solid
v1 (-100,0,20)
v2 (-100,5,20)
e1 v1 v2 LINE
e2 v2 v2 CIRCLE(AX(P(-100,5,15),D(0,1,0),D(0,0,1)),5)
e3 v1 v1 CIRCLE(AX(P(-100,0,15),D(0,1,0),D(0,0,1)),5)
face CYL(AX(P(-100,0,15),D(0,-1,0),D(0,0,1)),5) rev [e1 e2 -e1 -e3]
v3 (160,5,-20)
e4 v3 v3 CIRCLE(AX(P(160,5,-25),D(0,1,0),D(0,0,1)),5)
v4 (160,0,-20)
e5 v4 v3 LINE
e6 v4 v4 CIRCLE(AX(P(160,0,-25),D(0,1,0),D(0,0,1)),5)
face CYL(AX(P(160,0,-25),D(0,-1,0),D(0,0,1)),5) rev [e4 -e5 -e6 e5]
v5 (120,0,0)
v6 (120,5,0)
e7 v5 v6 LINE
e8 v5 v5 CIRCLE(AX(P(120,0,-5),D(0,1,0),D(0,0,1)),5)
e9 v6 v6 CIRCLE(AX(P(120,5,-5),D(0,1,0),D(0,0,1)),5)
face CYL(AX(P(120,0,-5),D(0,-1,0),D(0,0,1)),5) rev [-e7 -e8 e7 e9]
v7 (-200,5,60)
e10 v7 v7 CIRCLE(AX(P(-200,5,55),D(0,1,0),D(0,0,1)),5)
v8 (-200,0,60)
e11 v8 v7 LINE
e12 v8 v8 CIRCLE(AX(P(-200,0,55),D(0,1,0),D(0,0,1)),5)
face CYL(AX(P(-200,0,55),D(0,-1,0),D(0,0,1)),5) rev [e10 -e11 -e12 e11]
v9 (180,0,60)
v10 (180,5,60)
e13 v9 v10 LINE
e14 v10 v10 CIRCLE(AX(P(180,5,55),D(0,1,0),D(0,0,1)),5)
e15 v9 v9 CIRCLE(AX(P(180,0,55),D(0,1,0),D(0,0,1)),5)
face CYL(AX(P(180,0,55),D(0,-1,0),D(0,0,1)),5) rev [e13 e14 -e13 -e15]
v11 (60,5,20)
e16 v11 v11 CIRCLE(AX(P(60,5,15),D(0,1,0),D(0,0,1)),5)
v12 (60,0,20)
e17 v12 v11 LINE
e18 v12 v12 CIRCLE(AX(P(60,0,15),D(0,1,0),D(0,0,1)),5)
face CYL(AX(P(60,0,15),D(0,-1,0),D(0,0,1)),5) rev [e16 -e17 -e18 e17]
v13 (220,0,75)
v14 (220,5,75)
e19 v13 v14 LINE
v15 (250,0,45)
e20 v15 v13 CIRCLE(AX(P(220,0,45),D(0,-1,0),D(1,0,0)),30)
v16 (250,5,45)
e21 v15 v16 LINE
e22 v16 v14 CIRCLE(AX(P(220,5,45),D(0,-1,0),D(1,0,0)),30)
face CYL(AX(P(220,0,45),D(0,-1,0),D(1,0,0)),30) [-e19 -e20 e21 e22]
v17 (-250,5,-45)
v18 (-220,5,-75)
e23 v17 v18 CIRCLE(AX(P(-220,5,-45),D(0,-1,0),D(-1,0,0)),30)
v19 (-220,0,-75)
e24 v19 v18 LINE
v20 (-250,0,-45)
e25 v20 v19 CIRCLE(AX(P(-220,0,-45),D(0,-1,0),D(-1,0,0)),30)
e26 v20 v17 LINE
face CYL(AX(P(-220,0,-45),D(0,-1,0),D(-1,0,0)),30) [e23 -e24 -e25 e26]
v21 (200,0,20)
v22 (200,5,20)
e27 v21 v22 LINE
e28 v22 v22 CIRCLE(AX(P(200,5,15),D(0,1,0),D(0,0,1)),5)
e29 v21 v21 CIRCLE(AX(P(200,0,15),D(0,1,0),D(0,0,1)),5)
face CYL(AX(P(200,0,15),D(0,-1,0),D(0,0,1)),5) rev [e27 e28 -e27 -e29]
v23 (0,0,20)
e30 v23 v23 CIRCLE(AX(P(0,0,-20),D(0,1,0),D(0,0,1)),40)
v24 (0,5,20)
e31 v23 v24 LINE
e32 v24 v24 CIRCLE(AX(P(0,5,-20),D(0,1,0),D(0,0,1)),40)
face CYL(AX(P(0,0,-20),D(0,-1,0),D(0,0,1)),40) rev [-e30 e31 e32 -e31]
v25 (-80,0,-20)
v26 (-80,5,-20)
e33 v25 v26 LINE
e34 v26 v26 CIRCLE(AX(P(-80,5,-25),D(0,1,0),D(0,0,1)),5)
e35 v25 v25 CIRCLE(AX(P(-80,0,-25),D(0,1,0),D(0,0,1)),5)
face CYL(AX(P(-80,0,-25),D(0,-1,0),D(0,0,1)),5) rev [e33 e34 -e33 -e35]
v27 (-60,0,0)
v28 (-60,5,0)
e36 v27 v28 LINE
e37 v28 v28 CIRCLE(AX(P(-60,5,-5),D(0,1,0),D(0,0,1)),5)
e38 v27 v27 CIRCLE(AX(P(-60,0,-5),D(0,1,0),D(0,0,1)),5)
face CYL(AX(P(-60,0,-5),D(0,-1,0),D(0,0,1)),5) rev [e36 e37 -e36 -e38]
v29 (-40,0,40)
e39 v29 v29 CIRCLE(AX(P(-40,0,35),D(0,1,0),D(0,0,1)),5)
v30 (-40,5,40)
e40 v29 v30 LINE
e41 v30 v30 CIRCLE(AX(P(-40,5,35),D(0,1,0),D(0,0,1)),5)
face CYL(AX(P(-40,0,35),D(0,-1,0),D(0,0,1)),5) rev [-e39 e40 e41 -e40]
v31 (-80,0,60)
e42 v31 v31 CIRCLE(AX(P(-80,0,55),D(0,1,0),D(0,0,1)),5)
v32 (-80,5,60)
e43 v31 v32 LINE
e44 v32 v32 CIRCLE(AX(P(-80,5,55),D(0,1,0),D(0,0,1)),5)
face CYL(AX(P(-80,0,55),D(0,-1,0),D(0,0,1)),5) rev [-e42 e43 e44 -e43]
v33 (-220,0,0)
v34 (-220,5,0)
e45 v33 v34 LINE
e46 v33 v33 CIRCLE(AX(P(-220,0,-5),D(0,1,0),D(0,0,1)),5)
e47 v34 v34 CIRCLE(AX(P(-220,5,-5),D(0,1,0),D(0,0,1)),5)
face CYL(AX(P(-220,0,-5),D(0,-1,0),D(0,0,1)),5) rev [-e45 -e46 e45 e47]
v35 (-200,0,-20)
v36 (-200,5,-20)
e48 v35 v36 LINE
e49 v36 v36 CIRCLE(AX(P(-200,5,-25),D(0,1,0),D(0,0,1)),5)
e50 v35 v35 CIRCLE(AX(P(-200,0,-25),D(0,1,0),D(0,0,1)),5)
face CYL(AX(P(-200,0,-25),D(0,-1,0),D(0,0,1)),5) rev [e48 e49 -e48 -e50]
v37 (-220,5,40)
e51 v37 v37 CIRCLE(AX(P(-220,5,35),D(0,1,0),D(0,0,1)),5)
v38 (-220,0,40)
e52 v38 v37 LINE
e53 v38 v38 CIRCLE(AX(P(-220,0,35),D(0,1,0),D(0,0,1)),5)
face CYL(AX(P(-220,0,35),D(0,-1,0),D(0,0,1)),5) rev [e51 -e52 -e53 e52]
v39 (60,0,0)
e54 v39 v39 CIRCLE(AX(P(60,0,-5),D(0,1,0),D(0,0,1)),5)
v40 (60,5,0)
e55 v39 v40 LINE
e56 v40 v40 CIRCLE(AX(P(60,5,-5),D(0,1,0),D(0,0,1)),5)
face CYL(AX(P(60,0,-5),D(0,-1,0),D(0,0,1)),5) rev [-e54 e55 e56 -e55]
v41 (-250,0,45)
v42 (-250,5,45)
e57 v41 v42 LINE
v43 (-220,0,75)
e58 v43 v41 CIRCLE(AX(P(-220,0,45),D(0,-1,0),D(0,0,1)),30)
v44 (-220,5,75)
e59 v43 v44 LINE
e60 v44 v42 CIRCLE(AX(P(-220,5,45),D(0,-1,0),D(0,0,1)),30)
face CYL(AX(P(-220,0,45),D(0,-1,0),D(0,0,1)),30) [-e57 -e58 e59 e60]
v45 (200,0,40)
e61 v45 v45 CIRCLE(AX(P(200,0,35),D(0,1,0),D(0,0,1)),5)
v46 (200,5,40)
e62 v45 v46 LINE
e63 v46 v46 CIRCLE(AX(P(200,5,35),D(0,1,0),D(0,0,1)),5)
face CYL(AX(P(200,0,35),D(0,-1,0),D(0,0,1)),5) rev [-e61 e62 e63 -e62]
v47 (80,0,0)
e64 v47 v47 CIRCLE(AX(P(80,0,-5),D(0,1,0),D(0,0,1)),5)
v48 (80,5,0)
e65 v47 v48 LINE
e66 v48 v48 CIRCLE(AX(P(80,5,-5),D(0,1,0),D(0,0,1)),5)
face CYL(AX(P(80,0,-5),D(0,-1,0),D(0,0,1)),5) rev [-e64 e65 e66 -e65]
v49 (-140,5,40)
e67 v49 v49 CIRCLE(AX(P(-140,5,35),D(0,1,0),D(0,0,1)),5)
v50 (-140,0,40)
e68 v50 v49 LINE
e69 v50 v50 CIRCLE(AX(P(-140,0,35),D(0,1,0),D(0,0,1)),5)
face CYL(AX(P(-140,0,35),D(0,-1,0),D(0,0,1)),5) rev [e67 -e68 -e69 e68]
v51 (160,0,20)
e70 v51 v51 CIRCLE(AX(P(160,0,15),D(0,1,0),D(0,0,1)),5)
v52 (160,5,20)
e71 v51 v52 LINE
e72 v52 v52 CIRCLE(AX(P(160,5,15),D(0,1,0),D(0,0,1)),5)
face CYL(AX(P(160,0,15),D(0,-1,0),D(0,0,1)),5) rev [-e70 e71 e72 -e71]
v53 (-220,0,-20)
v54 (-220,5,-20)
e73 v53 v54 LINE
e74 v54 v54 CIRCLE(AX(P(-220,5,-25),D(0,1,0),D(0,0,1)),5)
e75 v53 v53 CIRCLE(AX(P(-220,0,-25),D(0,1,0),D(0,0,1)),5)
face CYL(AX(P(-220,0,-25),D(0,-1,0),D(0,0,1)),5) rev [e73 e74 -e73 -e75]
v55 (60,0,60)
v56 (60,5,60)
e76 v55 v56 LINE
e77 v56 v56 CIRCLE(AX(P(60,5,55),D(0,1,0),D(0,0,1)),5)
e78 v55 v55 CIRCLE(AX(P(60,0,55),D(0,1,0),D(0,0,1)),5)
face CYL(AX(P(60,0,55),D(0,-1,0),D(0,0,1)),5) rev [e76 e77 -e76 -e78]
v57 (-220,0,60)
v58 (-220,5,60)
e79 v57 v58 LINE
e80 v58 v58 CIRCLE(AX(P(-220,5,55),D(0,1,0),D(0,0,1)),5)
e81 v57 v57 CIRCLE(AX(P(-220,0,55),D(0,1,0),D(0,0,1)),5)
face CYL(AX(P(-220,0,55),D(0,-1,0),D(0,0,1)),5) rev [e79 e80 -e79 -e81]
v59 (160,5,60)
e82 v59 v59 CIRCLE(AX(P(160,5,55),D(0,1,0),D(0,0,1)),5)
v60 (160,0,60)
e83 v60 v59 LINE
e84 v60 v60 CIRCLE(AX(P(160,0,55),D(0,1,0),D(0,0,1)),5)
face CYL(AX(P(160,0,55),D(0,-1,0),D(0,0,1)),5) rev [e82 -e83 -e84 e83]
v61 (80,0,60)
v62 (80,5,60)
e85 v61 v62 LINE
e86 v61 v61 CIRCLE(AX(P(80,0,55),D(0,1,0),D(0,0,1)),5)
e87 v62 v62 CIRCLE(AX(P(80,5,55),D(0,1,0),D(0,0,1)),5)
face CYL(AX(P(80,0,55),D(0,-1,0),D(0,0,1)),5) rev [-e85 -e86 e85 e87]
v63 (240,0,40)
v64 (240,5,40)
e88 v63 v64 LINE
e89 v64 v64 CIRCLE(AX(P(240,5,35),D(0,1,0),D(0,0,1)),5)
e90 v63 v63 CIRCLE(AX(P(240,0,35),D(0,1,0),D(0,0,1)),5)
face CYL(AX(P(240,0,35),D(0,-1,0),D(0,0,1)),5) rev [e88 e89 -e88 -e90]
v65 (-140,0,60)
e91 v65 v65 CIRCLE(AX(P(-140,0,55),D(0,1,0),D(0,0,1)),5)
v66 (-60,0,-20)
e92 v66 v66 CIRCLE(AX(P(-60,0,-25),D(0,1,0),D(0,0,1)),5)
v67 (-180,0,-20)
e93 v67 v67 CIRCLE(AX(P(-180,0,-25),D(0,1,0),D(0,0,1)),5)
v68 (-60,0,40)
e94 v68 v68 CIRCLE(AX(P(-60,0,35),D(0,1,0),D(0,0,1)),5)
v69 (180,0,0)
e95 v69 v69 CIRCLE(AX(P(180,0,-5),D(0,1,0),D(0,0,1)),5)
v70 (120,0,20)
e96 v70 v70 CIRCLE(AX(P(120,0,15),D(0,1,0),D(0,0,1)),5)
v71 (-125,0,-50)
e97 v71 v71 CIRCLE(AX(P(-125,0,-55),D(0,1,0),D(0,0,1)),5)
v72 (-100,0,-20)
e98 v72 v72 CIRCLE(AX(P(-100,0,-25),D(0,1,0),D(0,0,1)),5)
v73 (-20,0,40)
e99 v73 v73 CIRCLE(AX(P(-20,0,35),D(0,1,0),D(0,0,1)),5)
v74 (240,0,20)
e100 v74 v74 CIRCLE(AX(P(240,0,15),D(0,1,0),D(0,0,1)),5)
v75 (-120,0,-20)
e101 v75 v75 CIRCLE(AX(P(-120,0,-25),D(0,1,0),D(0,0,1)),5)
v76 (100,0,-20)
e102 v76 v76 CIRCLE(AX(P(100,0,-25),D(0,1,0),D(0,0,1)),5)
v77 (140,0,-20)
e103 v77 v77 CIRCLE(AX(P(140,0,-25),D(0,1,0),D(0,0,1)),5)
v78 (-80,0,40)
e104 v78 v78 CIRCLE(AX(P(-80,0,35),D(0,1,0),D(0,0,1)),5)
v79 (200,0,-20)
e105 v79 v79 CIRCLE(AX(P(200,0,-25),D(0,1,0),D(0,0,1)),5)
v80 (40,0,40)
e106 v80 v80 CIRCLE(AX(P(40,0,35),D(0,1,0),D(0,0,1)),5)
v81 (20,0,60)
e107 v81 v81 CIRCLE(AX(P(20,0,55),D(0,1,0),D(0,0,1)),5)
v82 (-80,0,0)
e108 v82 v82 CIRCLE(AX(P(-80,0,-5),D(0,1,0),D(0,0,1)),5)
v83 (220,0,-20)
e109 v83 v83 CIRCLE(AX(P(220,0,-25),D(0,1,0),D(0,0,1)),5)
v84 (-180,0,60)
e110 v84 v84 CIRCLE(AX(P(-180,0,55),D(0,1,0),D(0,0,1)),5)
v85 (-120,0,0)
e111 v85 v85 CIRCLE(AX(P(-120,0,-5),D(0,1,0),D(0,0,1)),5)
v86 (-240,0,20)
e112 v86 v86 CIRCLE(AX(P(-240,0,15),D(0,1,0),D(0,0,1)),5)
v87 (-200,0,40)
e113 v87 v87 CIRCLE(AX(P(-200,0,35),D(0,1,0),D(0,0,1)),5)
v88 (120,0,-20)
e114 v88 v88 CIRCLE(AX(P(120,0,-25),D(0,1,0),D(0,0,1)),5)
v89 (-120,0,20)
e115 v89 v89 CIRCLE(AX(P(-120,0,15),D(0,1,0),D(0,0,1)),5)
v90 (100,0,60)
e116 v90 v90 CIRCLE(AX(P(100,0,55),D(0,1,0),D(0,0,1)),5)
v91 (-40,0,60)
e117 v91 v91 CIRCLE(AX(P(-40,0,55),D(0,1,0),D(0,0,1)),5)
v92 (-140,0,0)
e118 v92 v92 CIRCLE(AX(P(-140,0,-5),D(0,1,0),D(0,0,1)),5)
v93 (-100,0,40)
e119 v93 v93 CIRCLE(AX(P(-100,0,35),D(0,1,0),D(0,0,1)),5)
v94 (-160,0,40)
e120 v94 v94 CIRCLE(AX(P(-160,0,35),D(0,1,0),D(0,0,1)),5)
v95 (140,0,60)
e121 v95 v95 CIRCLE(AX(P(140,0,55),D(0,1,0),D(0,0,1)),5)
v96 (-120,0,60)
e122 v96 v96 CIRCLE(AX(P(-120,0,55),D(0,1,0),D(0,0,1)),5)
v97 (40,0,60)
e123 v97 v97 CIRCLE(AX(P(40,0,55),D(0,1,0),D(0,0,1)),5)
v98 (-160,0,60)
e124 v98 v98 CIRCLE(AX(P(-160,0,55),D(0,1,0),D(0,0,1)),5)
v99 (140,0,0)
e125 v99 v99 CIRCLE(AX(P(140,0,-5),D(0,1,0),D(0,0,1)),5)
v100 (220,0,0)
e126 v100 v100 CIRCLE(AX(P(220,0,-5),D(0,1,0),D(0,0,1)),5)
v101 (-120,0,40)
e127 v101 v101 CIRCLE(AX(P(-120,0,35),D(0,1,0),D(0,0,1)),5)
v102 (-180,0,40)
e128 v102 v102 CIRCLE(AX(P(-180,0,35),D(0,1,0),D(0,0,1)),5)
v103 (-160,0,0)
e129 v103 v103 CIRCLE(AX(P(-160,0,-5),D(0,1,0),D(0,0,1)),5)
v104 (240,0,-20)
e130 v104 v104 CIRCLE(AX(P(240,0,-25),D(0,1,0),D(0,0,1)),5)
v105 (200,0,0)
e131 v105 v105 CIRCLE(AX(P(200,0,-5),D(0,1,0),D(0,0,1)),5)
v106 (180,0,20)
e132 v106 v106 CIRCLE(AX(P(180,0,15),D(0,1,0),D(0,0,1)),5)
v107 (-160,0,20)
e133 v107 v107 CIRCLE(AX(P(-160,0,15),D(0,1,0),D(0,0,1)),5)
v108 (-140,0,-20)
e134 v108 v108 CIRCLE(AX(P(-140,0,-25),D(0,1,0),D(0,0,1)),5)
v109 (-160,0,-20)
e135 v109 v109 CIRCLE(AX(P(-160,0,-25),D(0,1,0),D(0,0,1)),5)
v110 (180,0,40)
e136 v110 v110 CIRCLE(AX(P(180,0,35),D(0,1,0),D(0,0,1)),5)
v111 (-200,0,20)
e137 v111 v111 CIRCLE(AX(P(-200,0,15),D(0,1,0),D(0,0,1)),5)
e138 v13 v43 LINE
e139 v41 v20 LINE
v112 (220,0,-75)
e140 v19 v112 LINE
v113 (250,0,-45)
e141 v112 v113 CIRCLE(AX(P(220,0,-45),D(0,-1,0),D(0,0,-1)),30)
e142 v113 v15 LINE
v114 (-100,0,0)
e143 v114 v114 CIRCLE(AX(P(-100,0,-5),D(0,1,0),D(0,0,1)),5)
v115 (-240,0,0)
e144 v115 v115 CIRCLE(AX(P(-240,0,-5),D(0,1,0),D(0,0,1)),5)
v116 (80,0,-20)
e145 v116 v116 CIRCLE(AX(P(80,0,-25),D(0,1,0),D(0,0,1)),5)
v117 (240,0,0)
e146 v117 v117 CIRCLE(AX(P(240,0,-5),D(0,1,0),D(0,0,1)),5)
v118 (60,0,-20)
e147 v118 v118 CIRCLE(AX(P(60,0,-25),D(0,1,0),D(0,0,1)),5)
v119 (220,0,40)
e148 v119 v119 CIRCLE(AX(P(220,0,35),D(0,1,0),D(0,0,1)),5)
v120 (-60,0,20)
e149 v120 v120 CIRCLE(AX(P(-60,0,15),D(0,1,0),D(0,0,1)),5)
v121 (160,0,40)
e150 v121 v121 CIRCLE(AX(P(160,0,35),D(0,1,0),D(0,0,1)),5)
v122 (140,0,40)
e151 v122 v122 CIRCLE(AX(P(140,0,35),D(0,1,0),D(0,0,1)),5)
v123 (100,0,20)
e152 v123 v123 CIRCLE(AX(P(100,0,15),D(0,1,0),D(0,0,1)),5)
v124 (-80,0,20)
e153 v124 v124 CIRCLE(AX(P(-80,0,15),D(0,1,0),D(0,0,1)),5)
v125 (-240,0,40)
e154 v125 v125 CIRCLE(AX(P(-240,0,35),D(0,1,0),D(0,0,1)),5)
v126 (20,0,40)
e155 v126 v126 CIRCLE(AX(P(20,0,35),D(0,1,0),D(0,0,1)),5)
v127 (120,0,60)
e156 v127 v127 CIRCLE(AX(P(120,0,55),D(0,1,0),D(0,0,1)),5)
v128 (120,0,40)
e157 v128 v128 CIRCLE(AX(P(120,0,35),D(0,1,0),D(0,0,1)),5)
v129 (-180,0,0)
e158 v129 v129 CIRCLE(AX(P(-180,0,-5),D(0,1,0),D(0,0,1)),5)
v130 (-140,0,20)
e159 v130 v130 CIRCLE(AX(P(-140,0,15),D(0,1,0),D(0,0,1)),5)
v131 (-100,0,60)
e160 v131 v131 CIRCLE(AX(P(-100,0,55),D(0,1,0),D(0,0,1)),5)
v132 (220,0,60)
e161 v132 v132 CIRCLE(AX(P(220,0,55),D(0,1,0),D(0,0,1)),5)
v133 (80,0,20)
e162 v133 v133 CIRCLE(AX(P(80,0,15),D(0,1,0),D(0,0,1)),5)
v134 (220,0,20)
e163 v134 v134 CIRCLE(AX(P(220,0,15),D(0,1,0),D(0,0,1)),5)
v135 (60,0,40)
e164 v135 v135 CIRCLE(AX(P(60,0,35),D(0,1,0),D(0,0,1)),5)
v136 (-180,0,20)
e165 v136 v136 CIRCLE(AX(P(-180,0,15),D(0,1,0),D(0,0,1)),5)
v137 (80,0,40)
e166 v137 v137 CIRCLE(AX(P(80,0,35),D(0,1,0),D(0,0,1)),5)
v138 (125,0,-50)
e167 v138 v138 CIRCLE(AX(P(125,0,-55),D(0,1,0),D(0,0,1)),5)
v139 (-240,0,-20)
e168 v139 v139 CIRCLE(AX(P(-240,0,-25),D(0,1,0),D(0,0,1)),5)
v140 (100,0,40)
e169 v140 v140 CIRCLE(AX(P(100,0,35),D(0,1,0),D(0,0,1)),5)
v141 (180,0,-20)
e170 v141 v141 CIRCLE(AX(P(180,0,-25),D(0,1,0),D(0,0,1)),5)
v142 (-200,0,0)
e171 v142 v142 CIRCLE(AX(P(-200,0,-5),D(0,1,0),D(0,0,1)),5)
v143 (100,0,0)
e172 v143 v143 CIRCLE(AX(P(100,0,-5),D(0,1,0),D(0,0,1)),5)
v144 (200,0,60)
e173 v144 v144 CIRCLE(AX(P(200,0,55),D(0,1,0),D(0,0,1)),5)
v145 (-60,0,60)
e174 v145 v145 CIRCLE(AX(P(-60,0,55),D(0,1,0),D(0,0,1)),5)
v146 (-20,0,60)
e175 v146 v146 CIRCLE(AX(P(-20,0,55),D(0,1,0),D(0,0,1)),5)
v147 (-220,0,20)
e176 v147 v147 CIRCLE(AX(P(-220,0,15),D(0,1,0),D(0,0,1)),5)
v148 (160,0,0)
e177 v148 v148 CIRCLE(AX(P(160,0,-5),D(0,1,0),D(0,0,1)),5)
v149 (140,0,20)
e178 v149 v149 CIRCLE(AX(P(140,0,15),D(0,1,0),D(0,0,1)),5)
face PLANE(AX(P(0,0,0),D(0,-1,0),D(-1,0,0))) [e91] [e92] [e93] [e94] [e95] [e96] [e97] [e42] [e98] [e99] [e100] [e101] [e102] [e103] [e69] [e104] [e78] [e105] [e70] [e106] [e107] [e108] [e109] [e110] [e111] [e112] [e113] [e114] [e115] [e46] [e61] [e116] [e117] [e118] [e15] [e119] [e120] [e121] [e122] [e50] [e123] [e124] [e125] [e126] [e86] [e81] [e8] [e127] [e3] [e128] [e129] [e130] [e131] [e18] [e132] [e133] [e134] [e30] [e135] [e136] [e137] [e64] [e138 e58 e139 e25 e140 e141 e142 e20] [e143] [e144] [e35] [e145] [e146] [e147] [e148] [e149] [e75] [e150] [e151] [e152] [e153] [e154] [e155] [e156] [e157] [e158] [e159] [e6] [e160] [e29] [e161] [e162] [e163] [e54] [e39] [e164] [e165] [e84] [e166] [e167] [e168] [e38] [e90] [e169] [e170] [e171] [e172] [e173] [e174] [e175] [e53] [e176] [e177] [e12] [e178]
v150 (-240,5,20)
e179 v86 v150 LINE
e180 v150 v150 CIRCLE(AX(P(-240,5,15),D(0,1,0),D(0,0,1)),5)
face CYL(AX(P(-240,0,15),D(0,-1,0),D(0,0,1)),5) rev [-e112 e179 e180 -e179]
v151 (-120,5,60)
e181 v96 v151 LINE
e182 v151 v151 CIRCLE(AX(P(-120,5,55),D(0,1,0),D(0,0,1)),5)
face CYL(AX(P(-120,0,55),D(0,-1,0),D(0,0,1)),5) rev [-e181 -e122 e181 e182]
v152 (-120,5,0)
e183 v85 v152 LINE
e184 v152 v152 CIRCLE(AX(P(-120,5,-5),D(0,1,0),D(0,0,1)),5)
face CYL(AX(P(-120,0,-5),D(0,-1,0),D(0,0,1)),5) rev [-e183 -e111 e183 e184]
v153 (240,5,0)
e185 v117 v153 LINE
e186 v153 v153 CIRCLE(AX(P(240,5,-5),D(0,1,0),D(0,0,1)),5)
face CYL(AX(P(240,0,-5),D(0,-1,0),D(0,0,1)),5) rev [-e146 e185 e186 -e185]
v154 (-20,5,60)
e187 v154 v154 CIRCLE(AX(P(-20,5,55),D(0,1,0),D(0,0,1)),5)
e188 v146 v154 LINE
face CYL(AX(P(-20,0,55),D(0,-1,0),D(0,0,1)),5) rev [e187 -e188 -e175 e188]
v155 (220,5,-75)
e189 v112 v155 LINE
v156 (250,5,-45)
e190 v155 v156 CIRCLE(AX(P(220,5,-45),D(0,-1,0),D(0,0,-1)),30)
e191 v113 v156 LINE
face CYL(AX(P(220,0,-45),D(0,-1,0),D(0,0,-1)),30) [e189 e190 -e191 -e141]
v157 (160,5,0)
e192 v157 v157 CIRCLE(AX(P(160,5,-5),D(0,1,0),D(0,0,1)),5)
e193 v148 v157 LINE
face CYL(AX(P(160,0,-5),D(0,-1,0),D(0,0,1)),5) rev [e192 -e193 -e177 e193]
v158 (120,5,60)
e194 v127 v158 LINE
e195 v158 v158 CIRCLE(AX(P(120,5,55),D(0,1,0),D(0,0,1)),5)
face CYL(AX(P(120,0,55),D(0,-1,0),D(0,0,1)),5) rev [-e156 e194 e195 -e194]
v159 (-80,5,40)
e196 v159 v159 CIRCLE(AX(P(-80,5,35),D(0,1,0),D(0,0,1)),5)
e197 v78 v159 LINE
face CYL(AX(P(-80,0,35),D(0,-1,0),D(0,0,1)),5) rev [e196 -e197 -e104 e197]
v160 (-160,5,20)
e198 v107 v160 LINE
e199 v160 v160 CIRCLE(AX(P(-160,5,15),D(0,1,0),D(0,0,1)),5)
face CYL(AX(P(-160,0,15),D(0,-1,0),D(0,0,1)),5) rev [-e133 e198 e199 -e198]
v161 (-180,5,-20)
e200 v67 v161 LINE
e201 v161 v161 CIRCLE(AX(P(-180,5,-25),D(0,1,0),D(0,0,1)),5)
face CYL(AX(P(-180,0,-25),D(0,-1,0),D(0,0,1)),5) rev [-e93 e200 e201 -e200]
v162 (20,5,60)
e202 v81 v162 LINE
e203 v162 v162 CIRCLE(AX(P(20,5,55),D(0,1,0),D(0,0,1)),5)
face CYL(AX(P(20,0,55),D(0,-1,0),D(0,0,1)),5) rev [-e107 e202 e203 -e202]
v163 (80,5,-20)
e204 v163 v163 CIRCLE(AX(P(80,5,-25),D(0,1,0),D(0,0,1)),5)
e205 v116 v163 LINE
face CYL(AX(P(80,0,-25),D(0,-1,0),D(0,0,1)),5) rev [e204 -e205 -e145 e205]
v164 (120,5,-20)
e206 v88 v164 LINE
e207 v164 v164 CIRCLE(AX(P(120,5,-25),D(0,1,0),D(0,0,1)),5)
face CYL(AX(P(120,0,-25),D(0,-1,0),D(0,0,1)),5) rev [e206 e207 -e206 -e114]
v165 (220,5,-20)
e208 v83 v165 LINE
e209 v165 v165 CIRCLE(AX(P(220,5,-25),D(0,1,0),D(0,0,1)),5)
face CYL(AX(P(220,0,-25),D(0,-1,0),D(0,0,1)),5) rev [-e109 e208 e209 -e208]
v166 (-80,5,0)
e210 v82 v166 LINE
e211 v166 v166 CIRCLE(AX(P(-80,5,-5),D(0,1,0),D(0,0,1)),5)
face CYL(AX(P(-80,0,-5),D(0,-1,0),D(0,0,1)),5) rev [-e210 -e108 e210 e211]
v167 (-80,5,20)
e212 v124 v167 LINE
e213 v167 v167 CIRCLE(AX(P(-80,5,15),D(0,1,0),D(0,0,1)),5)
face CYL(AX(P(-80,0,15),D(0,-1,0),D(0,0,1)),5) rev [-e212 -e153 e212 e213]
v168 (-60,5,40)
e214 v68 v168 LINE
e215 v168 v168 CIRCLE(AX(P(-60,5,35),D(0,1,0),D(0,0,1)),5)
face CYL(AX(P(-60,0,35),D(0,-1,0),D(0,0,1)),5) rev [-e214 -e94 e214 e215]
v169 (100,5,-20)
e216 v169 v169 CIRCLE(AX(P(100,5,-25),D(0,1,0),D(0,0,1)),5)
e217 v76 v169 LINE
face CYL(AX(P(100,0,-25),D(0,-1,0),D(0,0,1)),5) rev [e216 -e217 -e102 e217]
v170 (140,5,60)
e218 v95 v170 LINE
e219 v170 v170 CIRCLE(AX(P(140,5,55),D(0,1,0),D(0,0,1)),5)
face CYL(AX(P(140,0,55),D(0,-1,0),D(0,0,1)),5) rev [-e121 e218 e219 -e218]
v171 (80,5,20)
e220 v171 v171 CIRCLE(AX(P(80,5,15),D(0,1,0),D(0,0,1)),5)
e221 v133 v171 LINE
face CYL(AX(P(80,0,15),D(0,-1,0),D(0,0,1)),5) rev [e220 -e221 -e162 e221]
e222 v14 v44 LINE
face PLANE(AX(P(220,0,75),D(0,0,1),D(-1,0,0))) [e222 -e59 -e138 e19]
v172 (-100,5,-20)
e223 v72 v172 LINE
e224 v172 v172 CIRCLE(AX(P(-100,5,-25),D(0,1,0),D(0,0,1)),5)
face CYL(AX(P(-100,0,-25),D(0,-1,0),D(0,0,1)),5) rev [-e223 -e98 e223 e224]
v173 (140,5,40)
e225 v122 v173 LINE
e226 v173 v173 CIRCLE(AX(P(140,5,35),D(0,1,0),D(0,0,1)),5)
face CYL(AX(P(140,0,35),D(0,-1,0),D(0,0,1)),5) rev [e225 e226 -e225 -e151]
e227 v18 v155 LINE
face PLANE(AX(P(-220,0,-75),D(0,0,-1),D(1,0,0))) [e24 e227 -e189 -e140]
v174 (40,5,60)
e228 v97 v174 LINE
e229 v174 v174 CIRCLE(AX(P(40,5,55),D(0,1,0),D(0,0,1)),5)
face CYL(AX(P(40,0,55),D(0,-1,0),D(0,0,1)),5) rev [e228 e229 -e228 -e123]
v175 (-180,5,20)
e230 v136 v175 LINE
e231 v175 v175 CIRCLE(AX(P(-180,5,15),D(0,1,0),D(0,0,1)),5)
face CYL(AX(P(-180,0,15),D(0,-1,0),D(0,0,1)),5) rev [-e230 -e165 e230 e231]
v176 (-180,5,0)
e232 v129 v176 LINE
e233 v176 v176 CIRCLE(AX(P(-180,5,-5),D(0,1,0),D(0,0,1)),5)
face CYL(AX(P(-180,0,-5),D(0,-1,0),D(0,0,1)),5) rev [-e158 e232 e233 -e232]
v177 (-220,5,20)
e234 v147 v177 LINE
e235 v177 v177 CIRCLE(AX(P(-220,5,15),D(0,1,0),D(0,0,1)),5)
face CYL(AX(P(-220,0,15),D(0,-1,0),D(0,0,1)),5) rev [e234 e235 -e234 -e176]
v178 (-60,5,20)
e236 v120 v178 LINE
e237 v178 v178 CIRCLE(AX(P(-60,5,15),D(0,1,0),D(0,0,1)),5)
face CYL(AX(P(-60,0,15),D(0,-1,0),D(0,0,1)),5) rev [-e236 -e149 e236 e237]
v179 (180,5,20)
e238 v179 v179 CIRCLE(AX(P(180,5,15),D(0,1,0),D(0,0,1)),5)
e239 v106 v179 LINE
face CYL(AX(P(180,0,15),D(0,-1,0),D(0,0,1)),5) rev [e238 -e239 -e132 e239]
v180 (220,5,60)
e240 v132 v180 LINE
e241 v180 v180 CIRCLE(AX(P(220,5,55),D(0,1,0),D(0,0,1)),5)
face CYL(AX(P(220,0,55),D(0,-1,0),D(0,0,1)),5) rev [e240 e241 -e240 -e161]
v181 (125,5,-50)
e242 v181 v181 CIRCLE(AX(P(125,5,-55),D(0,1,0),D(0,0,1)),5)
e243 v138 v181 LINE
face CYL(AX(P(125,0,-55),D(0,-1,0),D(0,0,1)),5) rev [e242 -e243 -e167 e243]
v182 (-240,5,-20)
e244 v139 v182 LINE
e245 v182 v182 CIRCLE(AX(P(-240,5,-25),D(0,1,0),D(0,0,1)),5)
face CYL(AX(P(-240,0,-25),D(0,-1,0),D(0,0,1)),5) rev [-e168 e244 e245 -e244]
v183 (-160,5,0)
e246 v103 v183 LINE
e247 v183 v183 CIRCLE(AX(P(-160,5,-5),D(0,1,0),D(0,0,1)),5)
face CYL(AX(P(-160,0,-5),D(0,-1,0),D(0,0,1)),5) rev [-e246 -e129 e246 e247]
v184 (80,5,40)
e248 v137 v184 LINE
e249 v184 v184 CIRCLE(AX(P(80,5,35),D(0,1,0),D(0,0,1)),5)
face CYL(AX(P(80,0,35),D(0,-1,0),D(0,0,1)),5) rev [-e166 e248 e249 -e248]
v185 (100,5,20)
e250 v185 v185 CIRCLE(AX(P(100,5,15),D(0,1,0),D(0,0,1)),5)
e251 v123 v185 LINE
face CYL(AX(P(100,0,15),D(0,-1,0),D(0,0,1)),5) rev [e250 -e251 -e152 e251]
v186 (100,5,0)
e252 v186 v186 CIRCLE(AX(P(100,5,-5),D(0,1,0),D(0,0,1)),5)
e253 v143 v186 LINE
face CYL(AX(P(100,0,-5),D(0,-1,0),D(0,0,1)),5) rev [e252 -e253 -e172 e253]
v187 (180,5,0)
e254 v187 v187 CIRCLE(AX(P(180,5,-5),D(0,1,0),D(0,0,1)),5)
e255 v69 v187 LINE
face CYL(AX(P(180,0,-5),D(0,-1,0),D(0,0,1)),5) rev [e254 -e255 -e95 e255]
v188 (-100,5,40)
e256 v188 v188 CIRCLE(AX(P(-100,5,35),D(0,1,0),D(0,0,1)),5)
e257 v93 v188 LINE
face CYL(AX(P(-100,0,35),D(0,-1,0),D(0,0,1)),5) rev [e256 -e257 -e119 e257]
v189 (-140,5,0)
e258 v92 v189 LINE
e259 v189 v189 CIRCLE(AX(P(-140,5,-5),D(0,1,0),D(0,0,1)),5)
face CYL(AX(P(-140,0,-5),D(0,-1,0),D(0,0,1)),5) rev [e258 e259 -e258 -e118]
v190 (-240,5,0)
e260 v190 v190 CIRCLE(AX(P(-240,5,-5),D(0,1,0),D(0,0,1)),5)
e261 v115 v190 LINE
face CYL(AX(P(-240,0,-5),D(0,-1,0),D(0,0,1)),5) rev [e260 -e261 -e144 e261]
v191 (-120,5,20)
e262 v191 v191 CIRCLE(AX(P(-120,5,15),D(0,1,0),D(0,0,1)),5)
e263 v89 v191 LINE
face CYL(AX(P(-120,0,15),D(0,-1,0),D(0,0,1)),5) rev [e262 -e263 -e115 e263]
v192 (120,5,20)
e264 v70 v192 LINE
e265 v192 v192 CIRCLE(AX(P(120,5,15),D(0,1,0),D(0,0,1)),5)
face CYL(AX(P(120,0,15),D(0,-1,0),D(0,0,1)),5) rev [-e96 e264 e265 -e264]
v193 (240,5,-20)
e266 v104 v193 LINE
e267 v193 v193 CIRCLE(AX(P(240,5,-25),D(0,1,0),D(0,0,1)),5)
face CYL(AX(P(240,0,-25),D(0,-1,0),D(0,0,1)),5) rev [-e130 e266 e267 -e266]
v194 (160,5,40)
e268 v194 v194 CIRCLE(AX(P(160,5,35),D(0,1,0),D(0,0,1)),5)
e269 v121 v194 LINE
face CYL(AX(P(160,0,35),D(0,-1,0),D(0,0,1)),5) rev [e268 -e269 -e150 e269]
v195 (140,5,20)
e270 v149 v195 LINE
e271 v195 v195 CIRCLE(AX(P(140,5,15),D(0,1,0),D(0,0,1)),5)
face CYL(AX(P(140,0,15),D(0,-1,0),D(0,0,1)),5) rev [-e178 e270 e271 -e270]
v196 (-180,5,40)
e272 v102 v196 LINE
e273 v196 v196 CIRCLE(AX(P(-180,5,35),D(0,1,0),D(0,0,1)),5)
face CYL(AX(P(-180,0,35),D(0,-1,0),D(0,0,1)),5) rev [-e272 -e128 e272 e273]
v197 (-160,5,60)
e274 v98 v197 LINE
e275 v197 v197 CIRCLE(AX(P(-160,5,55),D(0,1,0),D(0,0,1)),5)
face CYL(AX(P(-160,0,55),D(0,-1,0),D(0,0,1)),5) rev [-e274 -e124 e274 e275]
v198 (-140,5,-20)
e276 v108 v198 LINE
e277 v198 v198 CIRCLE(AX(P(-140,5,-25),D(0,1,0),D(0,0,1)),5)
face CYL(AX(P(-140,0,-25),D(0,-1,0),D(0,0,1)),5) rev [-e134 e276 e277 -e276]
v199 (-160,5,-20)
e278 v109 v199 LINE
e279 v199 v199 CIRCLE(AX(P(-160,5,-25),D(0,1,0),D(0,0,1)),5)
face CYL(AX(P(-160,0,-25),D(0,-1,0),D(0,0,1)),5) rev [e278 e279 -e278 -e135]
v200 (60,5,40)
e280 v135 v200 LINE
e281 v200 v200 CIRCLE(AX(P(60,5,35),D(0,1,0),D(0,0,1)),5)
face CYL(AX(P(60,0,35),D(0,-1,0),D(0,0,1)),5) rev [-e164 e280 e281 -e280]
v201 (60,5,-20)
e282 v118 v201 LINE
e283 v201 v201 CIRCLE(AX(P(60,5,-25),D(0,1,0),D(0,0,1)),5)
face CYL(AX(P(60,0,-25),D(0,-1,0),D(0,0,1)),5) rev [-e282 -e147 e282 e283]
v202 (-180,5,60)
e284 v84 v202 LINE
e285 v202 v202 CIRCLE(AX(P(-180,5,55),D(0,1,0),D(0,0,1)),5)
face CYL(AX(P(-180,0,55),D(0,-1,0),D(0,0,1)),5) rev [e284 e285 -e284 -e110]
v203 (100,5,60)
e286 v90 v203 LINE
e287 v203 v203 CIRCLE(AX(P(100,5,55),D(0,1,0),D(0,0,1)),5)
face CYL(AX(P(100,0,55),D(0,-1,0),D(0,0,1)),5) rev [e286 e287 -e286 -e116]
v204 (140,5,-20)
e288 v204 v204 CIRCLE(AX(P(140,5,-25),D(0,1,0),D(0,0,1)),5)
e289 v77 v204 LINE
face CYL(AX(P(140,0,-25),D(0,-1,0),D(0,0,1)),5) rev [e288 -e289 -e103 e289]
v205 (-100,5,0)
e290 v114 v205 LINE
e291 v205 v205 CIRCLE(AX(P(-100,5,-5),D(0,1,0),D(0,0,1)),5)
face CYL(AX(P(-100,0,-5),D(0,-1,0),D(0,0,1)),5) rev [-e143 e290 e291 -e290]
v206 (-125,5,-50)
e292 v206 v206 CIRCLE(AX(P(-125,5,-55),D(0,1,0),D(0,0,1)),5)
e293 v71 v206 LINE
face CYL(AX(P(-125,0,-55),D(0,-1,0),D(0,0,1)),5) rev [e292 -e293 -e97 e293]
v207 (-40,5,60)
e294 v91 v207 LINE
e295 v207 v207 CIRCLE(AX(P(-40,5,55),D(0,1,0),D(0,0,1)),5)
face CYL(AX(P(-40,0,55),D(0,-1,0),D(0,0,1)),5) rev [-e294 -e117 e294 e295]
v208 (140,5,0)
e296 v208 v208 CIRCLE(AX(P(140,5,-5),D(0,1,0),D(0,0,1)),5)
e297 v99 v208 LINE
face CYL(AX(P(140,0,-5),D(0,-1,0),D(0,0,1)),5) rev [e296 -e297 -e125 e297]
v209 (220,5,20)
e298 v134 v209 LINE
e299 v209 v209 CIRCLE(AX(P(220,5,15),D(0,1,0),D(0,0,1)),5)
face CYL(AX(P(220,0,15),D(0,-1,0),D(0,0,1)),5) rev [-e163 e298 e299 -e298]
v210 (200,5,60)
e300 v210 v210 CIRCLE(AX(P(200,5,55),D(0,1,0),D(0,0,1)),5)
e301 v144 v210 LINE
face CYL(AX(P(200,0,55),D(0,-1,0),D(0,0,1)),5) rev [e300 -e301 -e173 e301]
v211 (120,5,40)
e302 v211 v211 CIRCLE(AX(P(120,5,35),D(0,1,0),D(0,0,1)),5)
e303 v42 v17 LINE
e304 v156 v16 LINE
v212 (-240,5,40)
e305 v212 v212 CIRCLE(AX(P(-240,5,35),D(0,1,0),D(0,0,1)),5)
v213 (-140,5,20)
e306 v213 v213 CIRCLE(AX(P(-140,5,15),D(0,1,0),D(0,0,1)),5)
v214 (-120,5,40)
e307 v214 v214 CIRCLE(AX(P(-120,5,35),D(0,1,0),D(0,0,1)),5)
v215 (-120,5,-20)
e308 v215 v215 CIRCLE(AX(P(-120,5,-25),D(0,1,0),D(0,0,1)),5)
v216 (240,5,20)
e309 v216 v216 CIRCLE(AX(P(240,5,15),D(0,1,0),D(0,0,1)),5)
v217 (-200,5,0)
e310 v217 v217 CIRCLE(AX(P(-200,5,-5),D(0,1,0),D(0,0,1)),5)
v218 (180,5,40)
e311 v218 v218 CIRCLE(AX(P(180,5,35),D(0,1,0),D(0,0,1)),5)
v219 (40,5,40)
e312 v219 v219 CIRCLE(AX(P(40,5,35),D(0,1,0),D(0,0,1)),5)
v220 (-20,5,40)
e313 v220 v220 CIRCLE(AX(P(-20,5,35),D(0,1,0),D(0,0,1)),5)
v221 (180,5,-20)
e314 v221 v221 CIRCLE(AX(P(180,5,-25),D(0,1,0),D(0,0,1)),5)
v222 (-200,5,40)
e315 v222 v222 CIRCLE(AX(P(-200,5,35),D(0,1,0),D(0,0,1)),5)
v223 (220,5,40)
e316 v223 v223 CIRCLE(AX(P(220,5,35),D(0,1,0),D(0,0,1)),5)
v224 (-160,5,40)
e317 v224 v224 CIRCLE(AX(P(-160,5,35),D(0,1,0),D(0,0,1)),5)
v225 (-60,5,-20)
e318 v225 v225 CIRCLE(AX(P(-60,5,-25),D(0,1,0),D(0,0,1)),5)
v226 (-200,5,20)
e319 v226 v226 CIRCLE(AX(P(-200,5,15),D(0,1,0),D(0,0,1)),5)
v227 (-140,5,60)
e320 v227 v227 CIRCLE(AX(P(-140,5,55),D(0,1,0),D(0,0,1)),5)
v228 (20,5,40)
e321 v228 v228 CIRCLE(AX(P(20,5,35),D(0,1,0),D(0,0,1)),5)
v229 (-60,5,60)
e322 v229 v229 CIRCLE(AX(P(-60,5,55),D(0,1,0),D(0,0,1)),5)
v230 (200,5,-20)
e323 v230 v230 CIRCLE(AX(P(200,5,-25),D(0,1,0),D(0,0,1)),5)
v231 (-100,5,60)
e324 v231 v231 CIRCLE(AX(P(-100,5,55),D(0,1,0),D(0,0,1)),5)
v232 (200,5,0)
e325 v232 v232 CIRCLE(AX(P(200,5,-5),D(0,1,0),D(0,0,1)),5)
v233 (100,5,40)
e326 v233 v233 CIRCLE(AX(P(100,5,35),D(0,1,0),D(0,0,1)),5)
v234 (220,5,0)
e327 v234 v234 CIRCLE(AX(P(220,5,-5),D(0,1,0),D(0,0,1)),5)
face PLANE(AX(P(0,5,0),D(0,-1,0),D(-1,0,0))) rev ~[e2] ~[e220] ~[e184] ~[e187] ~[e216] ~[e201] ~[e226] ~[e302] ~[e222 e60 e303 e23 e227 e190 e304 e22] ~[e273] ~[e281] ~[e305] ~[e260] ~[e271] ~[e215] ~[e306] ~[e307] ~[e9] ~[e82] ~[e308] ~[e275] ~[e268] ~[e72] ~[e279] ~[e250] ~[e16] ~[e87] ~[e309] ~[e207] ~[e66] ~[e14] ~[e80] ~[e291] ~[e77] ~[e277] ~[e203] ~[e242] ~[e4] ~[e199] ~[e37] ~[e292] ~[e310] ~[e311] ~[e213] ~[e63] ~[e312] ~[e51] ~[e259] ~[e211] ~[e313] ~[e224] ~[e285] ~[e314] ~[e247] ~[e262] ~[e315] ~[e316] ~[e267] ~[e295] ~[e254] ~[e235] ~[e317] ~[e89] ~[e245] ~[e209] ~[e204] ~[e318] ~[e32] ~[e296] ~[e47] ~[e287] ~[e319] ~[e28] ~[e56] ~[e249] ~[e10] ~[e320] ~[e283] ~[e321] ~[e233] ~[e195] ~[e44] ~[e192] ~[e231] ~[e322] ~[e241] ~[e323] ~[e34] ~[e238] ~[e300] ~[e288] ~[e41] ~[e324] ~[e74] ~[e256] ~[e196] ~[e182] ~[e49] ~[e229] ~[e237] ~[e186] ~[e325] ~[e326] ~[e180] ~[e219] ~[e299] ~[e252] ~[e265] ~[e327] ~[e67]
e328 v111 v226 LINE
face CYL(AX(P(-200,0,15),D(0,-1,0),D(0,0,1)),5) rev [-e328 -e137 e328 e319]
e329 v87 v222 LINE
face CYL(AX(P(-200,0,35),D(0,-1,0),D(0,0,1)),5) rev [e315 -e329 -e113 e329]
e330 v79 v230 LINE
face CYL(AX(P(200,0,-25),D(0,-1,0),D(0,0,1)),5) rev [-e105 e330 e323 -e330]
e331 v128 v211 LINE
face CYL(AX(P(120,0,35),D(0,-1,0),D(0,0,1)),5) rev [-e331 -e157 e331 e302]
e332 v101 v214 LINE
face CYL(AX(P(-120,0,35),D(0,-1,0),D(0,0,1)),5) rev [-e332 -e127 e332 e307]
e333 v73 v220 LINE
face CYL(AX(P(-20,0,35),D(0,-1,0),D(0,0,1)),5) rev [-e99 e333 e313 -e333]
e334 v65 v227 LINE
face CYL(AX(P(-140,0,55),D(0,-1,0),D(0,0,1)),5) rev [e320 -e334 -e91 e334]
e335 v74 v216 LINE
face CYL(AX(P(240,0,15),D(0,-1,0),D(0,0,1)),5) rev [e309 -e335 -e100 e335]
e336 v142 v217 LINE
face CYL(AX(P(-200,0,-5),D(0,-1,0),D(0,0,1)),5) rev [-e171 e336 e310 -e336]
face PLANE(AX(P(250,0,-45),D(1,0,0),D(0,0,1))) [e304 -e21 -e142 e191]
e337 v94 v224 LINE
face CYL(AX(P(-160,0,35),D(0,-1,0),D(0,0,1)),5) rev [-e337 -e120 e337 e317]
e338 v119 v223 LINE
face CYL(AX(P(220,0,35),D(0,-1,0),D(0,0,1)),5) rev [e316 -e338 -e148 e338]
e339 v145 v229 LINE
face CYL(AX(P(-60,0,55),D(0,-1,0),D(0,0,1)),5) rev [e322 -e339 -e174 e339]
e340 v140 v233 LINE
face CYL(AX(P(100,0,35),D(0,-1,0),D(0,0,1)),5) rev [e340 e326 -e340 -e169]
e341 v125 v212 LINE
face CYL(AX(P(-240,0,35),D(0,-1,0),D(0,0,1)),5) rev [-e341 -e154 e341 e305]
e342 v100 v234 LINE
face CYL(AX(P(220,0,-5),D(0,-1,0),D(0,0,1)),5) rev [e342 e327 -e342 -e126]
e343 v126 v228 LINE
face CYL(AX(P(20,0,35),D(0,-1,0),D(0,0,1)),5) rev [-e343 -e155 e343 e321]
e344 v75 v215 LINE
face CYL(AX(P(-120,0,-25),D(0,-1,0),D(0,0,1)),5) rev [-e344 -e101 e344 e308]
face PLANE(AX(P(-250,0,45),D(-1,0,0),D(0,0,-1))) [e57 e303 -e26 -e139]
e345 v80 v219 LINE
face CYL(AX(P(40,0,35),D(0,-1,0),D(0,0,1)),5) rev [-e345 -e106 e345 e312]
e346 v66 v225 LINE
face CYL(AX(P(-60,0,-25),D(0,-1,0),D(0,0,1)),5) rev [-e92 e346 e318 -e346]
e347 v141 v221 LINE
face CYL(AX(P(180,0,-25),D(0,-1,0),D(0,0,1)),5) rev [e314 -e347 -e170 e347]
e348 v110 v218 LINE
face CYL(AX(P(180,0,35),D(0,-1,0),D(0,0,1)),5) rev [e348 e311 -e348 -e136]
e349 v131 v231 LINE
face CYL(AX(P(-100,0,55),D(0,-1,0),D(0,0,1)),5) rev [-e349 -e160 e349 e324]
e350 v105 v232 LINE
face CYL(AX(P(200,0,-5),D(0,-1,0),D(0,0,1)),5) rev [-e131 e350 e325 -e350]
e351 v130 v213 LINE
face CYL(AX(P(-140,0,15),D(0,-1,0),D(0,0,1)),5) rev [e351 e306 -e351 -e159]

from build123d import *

# Parameters (mm, degrees)
SKETCH1_R           = 40
SKETCH1_R_2         = 5
BOSS_EXTRUDE1_DEPTH = 5


with BuildPart() as part:
    # Sketch1 → Boss-Extrude1 (new body)
    with BuildSketch(Plane(origin=(0, 0, 0), x_dir=(1, 0, 0), z_dir=(0, 1, 0))):
        with BuildLine():
            Line((220, -75), (-220, -75))
            ThreePointArc((-220, -75), (-241.213203436, -66.213203436), (-250, -45))
            Line((-250, -45), (-250, 45))
            ThreePointArc((-250, 45), (-241.213203436, 66.213203436), (-220, 75))
            Line((-220, 75), (220, 75))
            ThreePointArc((220, 75), (241.213203436, 66.213203436), (250, 45))
            Line((250, 45), (250, -45))
            ThreePointArc((250, -45), (241.213203436, -66.213203436), (220, -75))
        make_face()
        with Locations(Location((0, 20, 0), (0, 0, 270))):
            Circle(SKETCH1_R, mode=Mode.SUBTRACT)
        with Locations(Location((-125, 55, 0), (0, 0, 270))):
            Circle(SKETCH1_R_2, mode=Mode.SUBTRACT)
        with Locations(Location((125, 55, 0), (0, 0, 270))):
            Circle(SKETCH1_R_2, mode=Mode.SUBTRACT)
        with Locations(Location((-240, 25, 0), (0, 0, 270))):
            Circle(SKETCH1_R_2, mode=Mode.SUBTRACT)
        with Locations(Location((-220, 25, 0), (0, 0, 270))):
            Circle(SKETCH1_R_2, mode=Mode.SUBTRACT)
        with Locations(Location((-200, 25, 0), (0, 0, 270))):
            Circle(SKETCH1_R_2, mode=Mode.SUBTRACT)
        with Locations(Location((-180, 25, 0), (0, 0, 270))):
            Circle(SKETCH1_R_2, mode=Mode.SUBTRACT)
        with Locations(Location((-160, 25, 0), (0, 0, 270))):
            Circle(SKETCH1_R_2, mode=Mode.SUBTRACT)
        with Locations(Location((-140, 25, 0), (0, 0, 270))):
            Circle(SKETCH1_R_2, mode=Mode.SUBTRACT)
        with Locations(Location((-120, 25, 0), (0, 0, 270))):
            Circle(SKETCH1_R_2, mode=Mode.SUBTRACT)
        with Locations(Location((-100, 25, 0), (0, 0, 270))):
            Circle(SKETCH1_R_2, mode=Mode.SUBTRACT)
        with Locations(Location((-80, 25, 0), (0, 0, 270))):
            Circle(SKETCH1_R_2, mode=Mode.SUBTRACT)
        with Locations(Location((-60, 25, 0), (0, 0, 270))):
            Circle(SKETCH1_R_2, mode=Mode.SUBTRACT)
        with Locations(Location((-240, 5, 0), (0, 0, 270))):
            Circle(SKETCH1_R_2, mode=Mode.SUBTRACT)
        with Locations(Location((-220, 5, 0), (0, 0, 270))):
            Circle(SKETCH1_R_2, mode=Mode.SUBTRACT)
        with Locations(Location((-200, 5, 0), (0, 0, 270))):
            Circle(SKETCH1_R_2, mode=Mode.SUBTRACT)
        with Locations(Location((-180, 5, 0), (0, 0, 270))):
            Circle(SKETCH1_R_2, mode=Mode.SUBTRACT)
        with Locations(Location((-160, 5, 0), (0, 0, 270))):
            Circle(SKETCH1_R_2, mode=Mode.SUBTRACT)
        with Locations(Location((-140, 5, 0), (0, 0, 270))):
            Circle(SKETCH1_R_2, mode=Mode.SUBTRACT)
        with Locations(Location((-120, 5, 0), (0, 0, 270))):
            Circle(SKETCH1_R_2, mode=Mode.SUBTRACT)
        with Locations(Location((-100, 5, 0), (0, 0, 270))):
            Circle(SKETCH1_R_2, mode=Mode.SUBTRACT)
        with Locations(Location((-80, 5, 0), (0, 0, 270))):
            Circle(SKETCH1_R_2, mode=Mode.SUBTRACT)
        with Locations(Location((-60, 5, 0), (0, 0, 270))):
            Circle(SKETCH1_R_2, mode=Mode.SUBTRACT)
        with Locations(Location((-240, -15, 0), (0, 0, 270))):
            Circle(SKETCH1_R_2, mode=Mode.SUBTRACT)
        with Locations(Location((-220, -15, 0), (0, 0, 270))):
            Circle(SKETCH1_R_2, mode=Mode.SUBTRACT)
        with Locations(Location((-200, -15, 0), (0, 0, 270))):
            Circle(SKETCH1_R_2, mode=Mode.SUBTRACT)
        with Locations(Location((-180, -15, 0), (0, 0, 270))):
            Circle(SKETCH1_R_2, mode=Mode.SUBTRACT)
        with Locations(Location((-160, -15, 0), (0, 0, 270))):
            Circle(SKETCH1_R_2, mode=Mode.SUBTRACT)
        with Locations(Location((-140, -15, 0), (0, 0, 270))):
            Circle(SKETCH1_R_2, mode=Mode.SUBTRACT)
        with Locations(Location((-120, -15, 0), (0, 0, 270))):
            Circle(SKETCH1_R_2, mode=Mode.SUBTRACT)
        with Locations(Location((-100, -15, 0), (0, 0, 270))):
            Circle(SKETCH1_R_2, mode=Mode.SUBTRACT)
        with Locations(Location((-80, -15, 0), (0, 0, 270))):
            Circle(SKETCH1_R_2, mode=Mode.SUBTRACT)
        with Locations(Location((-60, -15, 0), (0, 0, 270))):
            Circle(SKETCH1_R_2, mode=Mode.SUBTRACT)
        with Locations(Location((-240, -35, 0), (0, 0, 270))):
            Circle(SKETCH1_R_2, mode=Mode.SUBTRACT)
        with Locations(Location((-220, -35, 0), (0, 0, 270))):
            Circle(SKETCH1_R_2, mode=Mode.SUBTRACT)
        with Locations(Location((-200, -35, 0), (0, 0, 270))):
            Circle(SKETCH1_R_2, mode=Mode.SUBTRACT)
        with Locations(Location((-180, -35, 0), (0, 0, 270))):
            Circle(SKETCH1_R_2, mode=Mode.SUBTRACT)
        with Locations(Location((-160, -35, 0), (0, 0, 270))):
            Circle(SKETCH1_R_2, mode=Mode.SUBTRACT)
        with Locations(Location((-140, -35, 0), (0, 0, 270))):
            Circle(SKETCH1_R_2, mode=Mode.SUBTRACT)
        with Locations(Location((-120, -35, 0), (0, 0, 270))):
            Circle(SKETCH1_R_2, mode=Mode.SUBTRACT)
        with Locations(Location((-100, -35, 0), (0, 0, 270))):
            Circle(SKETCH1_R_2, mode=Mode.SUBTRACT)
        with Locations(Location((-80, -35, 0), (0, 0, 270))):
            Circle(SKETCH1_R_2, mode=Mode.SUBTRACT)
        with Locations(Location((-60, -35, 0), (0, 0, 270))):
            Circle(SKETCH1_R_2, mode=Mode.SUBTRACT)
        with Locations(Location((-220, -55, 0), (0, 0, 270))):
            Circle(SKETCH1_R_2, mode=Mode.SUBTRACT)
        with Locations(Location((-200, -55, 0), (0, 0, 270))):
            Circle(SKETCH1_R_2, mode=Mode.SUBTRACT)
        with Locations(Location((-180, -55, 0), (0, 0, 270))):
            Circle(SKETCH1_R_2, mode=Mode.SUBTRACT)
        with Locations(Location((-160, -55, 0), (0, 0, 270))):
            Circle(SKETCH1_R_2, mode=Mode.SUBTRACT)
        with Locations(Location((-140, -55, 0), (0, 0, 270))):
            Circle(SKETCH1_R_2, mode=Mode.SUBTRACT)
        with Locations(Location((-120, -55, 0), (0, 0, 270))):
            Circle(SKETCH1_R_2, mode=Mode.SUBTRACT)
        with Locations(Location((-100, -55, 0), (0, 0, 270))):
            Circle(SKETCH1_R_2, mode=Mode.SUBTRACT)
        with Locations(Location((-80, -55, 0), (0, 0, 270))):
            Circle(SKETCH1_R_2, mode=Mode.SUBTRACT)
        with Locations(Location((-60, -55, 0), (0, 0, 270))):
            Circle(SKETCH1_R_2, mode=Mode.SUBTRACT)
        with Locations(Location((-40, -35, 0), (0, 0, 270))):
            Circle(SKETCH1_R_2, mode=Mode.SUBTRACT)
        with Locations(Location((-40, -55, 0), (0, 0, 270))):
            Circle(SKETCH1_R_2, mode=Mode.SUBTRACT)
        with Locations(Location((-20, -35, 0), (0, 0, 270))):
            Circle(SKETCH1_R_2, mode=Mode.SUBTRACT)
        with Locations(Location((-20, -55, 0), (0, 0, 270))):
            Circle(SKETCH1_R_2, mode=Mode.SUBTRACT)
        with Locations(Location((20, -55, 0), (0, 0, 270))):
            Circle(SKETCH1_R_2, mode=Mode.SUBTRACT)
        with Locations(Location((40, -55, 0), (0, 0, 270))):
            Circle(SKETCH1_R_2, mode=Mode.SUBTRACT)
        with Locations(Location((60, -55, 0), (0, 0, 270))):
            Circle(SKETCH1_R_2, mode=Mode.SUBTRACT)
        with Locations(Location((80, -55, 0), (0, 0, 270))):
            Circle(SKETCH1_R_2, mode=Mode.SUBTRACT)
        with Locations(Location((100, -55, 0), (0, 0, 270))):
            Circle(SKETCH1_R_2, mode=Mode.SUBTRACT)
        with Locations(Location((120, -55, 0), (0, 0, 270))):
            Circle(SKETCH1_R_2, mode=Mode.SUBTRACT)
        with Locations(Location((140, -55, 0), (0, 0, 270))):
            Circle(SKETCH1_R_2, mode=Mode.SUBTRACT)
        with Locations(Location((120, -35, 0), (0, 0, 270))):
            Circle(SKETCH1_R_2, mode=Mode.SUBTRACT)
        with Locations(Location((100, -35, 0), (0, 0, 270))):
            Circle(SKETCH1_R_2, mode=Mode.SUBTRACT)
        with Locations(Location((80, -35, 0), (0, 0, 270))):
            Circle(SKETCH1_R_2, mode=Mode.SUBTRACT)
        with Locations(Location((60, -35, 0), (0, 0, 270))):
            Circle(SKETCH1_R_2, mode=Mode.SUBTRACT)
        with Locations(Location((20, -35, 0), (0, 0, 270))):
            Circle(SKETCH1_R_2, mode=Mode.SUBTRACT)
        with Locations(Location((40, -35, 0), (0, 0, 270))):
            Circle(SKETCH1_R_2, mode=Mode.SUBTRACT)
        with Locations(Location((60, -15, 0), (0, 0, 270))):
            Circle(SKETCH1_R_2, mode=Mode.SUBTRACT)
        with Locations(Location((80, -15, 0), (0, 0, 270))):
            Circle(SKETCH1_R_2, mode=Mode.SUBTRACT)
        with Locations(Location((100, -15, 0), (0, 0, 270))):
            Circle(SKETCH1_R_2, mode=Mode.SUBTRACT)
        with Locations(Location((120, -15, 0), (0, 0, 270))):
            Circle(SKETCH1_R_2, mode=Mode.SUBTRACT)
        with Locations(Location((120, 5, 0), (0, 0, 270))):
            Circle(SKETCH1_R_2, mode=Mode.SUBTRACT)
        with Locations(Location((100, 5, 0), (0, 0, 270))):
            Circle(SKETCH1_R_2, mode=Mode.SUBTRACT)
        with Locations(Location((80, 5, 0), (0, 0, 270))):
            Circle(SKETCH1_R_2, mode=Mode.SUBTRACT)
        with Locations(Location((60, 5, 0), (0, 0, 270))):
            Circle(SKETCH1_R_2, mode=Mode.SUBTRACT)
        with Locations(Location((60, 25, 0), (0, 0, 270))):
            Circle(SKETCH1_R_2, mode=Mode.SUBTRACT)
        with Locations(Location((80, 25, 0), (0, 0, 270))):
            Circle(SKETCH1_R_2, mode=Mode.SUBTRACT)
        with Locations(Location((100, 25, 0), (0, 0, 270))):
            Circle(SKETCH1_R_2, mode=Mode.SUBTRACT)
        with Locations(Location((120, 25, 0), (0, 0, 270))):
            Circle(SKETCH1_R_2, mode=Mode.SUBTRACT)
        with Locations(Location((140, 25, 0), (0, 0, 270))):
            Circle(SKETCH1_R_2, mode=Mode.SUBTRACT)
        with Locations(Location((140, 5, 0), (0, 0, 270))):
            Circle(SKETCH1_R_2, mode=Mode.SUBTRACT)
        with Locations(Location((140, -15, 0), (0, 0, 270))):
            Circle(SKETCH1_R_2, mode=Mode.SUBTRACT)
        with Locations(Location((140, -35, 0), (0, 0, 270))):
            Circle(SKETCH1_R_2, mode=Mode.SUBTRACT)
        with Locations(Location((160, -55, 0), (0, 0, 270))):
            Circle(SKETCH1_R_2, mode=Mode.SUBTRACT)
        with Locations(Location((160, 5, 0), (0, 0, 270))):
            Circle(SKETCH1_R_2, mode=Mode.SUBTRACT)
        with Locations(Location((160, -15, 0), (0, 0, 270))):
            Circle(SKETCH1_R_2, mode=Mode.SUBTRACT)
        with Locations(Location((160, -35, 0), (0, 0, 270))):
            Circle(SKETCH1_R_2, mode=Mode.SUBTRACT)
        with Locations(Location((180, -55, 0), (0, 0, 270))):
            Circle(SKETCH1_R_2, mode=Mode.SUBTRACT)
        with Locations(Location((180, -35, 0), (0, 0, 270))):
            Circle(SKETCH1_R_2, mode=Mode.SUBTRACT)
        with Locations(Location((180, -15, 0), (0, 0, 270))):
            Circle(SKETCH1_R_2, mode=Mode.SUBTRACT)
        with Locations(Location((180, 5, 0), (0, 0, 270))):
            Circle(SKETCH1_R_2, mode=Mode.SUBTRACT)
        with Locations(Location((160, 25, 0), (0, 0, 270))):
            Circle(SKETCH1_R_2, mode=Mode.SUBTRACT)
        with Locations(Location((180, 25, 0), (0, 0, 270))):
            Circle(SKETCH1_R_2, mode=Mode.SUBTRACT)
        with Locations(Location((200, -55, 0), (0, 0, 270))):
            Circle(SKETCH1_R_2, mode=Mode.SUBTRACT)
        with Locations(Location((200, -15, 0), (0, 0, 270))):
            Circle(SKETCH1_R_2, mode=Mode.SUBTRACT)
        with Locations(Location((200, -35, 0), (0, 0, 270))):
            Circle(SKETCH1_R_2, mode=Mode.SUBTRACT)
        with Locations(Location((220, -55, 0), (0, 0, 270))):
            Circle(SKETCH1_R_2, mode=Mode.SUBTRACT)
        with Locations(Location((220, -35, 0), (0, 0, 270))):
            Circle(SKETCH1_R_2, mode=Mode.SUBTRACT)
        with Locations(Location((220, -15, 0), (0, 0, 270))):
            Circle(SKETCH1_R_2, mode=Mode.SUBTRACT)
        with Locations(Location((240, -35, 0), (0, 0, 270))):
            Circle(SKETCH1_R_2, mode=Mode.SUBTRACT)
        with Locations(Location((240, -15, 0), (0, 0, 270))):
            Circle(SKETCH1_R_2, mode=Mode.SUBTRACT)
        with Locations(Location((240, 5, 0), (0, 0, 270))):
            Circle(SKETCH1_R_2, mode=Mode.SUBTRACT)
        with Locations(Location((220, 5, 0), (0, 0, 270))):
            Circle(SKETCH1_R_2, mode=Mode.SUBTRACT)
        with Locations(Location((200, 5, 0), (0, 0, 270))):
            Circle(SKETCH1_R_2, mode=Mode.SUBTRACT)
        with Locations(Location((200, 25, 0), (0, 0, 270))):
            Circle(SKETCH1_R_2, mode=Mode.SUBTRACT)
        with Locations(Location((220, 25, 0), (0, 0, 270))):
            Circle(SKETCH1_R_2, mode=Mode.SUBTRACT)
        with Locations(Location((240, 25, 0), (0, 0, 270))):
            Circle(SKETCH1_R_2, mode=Mode.SUBTRACT)
    extrude(amount=BOSS_EXTRUDE1_DEPTH)


solid = part.part
